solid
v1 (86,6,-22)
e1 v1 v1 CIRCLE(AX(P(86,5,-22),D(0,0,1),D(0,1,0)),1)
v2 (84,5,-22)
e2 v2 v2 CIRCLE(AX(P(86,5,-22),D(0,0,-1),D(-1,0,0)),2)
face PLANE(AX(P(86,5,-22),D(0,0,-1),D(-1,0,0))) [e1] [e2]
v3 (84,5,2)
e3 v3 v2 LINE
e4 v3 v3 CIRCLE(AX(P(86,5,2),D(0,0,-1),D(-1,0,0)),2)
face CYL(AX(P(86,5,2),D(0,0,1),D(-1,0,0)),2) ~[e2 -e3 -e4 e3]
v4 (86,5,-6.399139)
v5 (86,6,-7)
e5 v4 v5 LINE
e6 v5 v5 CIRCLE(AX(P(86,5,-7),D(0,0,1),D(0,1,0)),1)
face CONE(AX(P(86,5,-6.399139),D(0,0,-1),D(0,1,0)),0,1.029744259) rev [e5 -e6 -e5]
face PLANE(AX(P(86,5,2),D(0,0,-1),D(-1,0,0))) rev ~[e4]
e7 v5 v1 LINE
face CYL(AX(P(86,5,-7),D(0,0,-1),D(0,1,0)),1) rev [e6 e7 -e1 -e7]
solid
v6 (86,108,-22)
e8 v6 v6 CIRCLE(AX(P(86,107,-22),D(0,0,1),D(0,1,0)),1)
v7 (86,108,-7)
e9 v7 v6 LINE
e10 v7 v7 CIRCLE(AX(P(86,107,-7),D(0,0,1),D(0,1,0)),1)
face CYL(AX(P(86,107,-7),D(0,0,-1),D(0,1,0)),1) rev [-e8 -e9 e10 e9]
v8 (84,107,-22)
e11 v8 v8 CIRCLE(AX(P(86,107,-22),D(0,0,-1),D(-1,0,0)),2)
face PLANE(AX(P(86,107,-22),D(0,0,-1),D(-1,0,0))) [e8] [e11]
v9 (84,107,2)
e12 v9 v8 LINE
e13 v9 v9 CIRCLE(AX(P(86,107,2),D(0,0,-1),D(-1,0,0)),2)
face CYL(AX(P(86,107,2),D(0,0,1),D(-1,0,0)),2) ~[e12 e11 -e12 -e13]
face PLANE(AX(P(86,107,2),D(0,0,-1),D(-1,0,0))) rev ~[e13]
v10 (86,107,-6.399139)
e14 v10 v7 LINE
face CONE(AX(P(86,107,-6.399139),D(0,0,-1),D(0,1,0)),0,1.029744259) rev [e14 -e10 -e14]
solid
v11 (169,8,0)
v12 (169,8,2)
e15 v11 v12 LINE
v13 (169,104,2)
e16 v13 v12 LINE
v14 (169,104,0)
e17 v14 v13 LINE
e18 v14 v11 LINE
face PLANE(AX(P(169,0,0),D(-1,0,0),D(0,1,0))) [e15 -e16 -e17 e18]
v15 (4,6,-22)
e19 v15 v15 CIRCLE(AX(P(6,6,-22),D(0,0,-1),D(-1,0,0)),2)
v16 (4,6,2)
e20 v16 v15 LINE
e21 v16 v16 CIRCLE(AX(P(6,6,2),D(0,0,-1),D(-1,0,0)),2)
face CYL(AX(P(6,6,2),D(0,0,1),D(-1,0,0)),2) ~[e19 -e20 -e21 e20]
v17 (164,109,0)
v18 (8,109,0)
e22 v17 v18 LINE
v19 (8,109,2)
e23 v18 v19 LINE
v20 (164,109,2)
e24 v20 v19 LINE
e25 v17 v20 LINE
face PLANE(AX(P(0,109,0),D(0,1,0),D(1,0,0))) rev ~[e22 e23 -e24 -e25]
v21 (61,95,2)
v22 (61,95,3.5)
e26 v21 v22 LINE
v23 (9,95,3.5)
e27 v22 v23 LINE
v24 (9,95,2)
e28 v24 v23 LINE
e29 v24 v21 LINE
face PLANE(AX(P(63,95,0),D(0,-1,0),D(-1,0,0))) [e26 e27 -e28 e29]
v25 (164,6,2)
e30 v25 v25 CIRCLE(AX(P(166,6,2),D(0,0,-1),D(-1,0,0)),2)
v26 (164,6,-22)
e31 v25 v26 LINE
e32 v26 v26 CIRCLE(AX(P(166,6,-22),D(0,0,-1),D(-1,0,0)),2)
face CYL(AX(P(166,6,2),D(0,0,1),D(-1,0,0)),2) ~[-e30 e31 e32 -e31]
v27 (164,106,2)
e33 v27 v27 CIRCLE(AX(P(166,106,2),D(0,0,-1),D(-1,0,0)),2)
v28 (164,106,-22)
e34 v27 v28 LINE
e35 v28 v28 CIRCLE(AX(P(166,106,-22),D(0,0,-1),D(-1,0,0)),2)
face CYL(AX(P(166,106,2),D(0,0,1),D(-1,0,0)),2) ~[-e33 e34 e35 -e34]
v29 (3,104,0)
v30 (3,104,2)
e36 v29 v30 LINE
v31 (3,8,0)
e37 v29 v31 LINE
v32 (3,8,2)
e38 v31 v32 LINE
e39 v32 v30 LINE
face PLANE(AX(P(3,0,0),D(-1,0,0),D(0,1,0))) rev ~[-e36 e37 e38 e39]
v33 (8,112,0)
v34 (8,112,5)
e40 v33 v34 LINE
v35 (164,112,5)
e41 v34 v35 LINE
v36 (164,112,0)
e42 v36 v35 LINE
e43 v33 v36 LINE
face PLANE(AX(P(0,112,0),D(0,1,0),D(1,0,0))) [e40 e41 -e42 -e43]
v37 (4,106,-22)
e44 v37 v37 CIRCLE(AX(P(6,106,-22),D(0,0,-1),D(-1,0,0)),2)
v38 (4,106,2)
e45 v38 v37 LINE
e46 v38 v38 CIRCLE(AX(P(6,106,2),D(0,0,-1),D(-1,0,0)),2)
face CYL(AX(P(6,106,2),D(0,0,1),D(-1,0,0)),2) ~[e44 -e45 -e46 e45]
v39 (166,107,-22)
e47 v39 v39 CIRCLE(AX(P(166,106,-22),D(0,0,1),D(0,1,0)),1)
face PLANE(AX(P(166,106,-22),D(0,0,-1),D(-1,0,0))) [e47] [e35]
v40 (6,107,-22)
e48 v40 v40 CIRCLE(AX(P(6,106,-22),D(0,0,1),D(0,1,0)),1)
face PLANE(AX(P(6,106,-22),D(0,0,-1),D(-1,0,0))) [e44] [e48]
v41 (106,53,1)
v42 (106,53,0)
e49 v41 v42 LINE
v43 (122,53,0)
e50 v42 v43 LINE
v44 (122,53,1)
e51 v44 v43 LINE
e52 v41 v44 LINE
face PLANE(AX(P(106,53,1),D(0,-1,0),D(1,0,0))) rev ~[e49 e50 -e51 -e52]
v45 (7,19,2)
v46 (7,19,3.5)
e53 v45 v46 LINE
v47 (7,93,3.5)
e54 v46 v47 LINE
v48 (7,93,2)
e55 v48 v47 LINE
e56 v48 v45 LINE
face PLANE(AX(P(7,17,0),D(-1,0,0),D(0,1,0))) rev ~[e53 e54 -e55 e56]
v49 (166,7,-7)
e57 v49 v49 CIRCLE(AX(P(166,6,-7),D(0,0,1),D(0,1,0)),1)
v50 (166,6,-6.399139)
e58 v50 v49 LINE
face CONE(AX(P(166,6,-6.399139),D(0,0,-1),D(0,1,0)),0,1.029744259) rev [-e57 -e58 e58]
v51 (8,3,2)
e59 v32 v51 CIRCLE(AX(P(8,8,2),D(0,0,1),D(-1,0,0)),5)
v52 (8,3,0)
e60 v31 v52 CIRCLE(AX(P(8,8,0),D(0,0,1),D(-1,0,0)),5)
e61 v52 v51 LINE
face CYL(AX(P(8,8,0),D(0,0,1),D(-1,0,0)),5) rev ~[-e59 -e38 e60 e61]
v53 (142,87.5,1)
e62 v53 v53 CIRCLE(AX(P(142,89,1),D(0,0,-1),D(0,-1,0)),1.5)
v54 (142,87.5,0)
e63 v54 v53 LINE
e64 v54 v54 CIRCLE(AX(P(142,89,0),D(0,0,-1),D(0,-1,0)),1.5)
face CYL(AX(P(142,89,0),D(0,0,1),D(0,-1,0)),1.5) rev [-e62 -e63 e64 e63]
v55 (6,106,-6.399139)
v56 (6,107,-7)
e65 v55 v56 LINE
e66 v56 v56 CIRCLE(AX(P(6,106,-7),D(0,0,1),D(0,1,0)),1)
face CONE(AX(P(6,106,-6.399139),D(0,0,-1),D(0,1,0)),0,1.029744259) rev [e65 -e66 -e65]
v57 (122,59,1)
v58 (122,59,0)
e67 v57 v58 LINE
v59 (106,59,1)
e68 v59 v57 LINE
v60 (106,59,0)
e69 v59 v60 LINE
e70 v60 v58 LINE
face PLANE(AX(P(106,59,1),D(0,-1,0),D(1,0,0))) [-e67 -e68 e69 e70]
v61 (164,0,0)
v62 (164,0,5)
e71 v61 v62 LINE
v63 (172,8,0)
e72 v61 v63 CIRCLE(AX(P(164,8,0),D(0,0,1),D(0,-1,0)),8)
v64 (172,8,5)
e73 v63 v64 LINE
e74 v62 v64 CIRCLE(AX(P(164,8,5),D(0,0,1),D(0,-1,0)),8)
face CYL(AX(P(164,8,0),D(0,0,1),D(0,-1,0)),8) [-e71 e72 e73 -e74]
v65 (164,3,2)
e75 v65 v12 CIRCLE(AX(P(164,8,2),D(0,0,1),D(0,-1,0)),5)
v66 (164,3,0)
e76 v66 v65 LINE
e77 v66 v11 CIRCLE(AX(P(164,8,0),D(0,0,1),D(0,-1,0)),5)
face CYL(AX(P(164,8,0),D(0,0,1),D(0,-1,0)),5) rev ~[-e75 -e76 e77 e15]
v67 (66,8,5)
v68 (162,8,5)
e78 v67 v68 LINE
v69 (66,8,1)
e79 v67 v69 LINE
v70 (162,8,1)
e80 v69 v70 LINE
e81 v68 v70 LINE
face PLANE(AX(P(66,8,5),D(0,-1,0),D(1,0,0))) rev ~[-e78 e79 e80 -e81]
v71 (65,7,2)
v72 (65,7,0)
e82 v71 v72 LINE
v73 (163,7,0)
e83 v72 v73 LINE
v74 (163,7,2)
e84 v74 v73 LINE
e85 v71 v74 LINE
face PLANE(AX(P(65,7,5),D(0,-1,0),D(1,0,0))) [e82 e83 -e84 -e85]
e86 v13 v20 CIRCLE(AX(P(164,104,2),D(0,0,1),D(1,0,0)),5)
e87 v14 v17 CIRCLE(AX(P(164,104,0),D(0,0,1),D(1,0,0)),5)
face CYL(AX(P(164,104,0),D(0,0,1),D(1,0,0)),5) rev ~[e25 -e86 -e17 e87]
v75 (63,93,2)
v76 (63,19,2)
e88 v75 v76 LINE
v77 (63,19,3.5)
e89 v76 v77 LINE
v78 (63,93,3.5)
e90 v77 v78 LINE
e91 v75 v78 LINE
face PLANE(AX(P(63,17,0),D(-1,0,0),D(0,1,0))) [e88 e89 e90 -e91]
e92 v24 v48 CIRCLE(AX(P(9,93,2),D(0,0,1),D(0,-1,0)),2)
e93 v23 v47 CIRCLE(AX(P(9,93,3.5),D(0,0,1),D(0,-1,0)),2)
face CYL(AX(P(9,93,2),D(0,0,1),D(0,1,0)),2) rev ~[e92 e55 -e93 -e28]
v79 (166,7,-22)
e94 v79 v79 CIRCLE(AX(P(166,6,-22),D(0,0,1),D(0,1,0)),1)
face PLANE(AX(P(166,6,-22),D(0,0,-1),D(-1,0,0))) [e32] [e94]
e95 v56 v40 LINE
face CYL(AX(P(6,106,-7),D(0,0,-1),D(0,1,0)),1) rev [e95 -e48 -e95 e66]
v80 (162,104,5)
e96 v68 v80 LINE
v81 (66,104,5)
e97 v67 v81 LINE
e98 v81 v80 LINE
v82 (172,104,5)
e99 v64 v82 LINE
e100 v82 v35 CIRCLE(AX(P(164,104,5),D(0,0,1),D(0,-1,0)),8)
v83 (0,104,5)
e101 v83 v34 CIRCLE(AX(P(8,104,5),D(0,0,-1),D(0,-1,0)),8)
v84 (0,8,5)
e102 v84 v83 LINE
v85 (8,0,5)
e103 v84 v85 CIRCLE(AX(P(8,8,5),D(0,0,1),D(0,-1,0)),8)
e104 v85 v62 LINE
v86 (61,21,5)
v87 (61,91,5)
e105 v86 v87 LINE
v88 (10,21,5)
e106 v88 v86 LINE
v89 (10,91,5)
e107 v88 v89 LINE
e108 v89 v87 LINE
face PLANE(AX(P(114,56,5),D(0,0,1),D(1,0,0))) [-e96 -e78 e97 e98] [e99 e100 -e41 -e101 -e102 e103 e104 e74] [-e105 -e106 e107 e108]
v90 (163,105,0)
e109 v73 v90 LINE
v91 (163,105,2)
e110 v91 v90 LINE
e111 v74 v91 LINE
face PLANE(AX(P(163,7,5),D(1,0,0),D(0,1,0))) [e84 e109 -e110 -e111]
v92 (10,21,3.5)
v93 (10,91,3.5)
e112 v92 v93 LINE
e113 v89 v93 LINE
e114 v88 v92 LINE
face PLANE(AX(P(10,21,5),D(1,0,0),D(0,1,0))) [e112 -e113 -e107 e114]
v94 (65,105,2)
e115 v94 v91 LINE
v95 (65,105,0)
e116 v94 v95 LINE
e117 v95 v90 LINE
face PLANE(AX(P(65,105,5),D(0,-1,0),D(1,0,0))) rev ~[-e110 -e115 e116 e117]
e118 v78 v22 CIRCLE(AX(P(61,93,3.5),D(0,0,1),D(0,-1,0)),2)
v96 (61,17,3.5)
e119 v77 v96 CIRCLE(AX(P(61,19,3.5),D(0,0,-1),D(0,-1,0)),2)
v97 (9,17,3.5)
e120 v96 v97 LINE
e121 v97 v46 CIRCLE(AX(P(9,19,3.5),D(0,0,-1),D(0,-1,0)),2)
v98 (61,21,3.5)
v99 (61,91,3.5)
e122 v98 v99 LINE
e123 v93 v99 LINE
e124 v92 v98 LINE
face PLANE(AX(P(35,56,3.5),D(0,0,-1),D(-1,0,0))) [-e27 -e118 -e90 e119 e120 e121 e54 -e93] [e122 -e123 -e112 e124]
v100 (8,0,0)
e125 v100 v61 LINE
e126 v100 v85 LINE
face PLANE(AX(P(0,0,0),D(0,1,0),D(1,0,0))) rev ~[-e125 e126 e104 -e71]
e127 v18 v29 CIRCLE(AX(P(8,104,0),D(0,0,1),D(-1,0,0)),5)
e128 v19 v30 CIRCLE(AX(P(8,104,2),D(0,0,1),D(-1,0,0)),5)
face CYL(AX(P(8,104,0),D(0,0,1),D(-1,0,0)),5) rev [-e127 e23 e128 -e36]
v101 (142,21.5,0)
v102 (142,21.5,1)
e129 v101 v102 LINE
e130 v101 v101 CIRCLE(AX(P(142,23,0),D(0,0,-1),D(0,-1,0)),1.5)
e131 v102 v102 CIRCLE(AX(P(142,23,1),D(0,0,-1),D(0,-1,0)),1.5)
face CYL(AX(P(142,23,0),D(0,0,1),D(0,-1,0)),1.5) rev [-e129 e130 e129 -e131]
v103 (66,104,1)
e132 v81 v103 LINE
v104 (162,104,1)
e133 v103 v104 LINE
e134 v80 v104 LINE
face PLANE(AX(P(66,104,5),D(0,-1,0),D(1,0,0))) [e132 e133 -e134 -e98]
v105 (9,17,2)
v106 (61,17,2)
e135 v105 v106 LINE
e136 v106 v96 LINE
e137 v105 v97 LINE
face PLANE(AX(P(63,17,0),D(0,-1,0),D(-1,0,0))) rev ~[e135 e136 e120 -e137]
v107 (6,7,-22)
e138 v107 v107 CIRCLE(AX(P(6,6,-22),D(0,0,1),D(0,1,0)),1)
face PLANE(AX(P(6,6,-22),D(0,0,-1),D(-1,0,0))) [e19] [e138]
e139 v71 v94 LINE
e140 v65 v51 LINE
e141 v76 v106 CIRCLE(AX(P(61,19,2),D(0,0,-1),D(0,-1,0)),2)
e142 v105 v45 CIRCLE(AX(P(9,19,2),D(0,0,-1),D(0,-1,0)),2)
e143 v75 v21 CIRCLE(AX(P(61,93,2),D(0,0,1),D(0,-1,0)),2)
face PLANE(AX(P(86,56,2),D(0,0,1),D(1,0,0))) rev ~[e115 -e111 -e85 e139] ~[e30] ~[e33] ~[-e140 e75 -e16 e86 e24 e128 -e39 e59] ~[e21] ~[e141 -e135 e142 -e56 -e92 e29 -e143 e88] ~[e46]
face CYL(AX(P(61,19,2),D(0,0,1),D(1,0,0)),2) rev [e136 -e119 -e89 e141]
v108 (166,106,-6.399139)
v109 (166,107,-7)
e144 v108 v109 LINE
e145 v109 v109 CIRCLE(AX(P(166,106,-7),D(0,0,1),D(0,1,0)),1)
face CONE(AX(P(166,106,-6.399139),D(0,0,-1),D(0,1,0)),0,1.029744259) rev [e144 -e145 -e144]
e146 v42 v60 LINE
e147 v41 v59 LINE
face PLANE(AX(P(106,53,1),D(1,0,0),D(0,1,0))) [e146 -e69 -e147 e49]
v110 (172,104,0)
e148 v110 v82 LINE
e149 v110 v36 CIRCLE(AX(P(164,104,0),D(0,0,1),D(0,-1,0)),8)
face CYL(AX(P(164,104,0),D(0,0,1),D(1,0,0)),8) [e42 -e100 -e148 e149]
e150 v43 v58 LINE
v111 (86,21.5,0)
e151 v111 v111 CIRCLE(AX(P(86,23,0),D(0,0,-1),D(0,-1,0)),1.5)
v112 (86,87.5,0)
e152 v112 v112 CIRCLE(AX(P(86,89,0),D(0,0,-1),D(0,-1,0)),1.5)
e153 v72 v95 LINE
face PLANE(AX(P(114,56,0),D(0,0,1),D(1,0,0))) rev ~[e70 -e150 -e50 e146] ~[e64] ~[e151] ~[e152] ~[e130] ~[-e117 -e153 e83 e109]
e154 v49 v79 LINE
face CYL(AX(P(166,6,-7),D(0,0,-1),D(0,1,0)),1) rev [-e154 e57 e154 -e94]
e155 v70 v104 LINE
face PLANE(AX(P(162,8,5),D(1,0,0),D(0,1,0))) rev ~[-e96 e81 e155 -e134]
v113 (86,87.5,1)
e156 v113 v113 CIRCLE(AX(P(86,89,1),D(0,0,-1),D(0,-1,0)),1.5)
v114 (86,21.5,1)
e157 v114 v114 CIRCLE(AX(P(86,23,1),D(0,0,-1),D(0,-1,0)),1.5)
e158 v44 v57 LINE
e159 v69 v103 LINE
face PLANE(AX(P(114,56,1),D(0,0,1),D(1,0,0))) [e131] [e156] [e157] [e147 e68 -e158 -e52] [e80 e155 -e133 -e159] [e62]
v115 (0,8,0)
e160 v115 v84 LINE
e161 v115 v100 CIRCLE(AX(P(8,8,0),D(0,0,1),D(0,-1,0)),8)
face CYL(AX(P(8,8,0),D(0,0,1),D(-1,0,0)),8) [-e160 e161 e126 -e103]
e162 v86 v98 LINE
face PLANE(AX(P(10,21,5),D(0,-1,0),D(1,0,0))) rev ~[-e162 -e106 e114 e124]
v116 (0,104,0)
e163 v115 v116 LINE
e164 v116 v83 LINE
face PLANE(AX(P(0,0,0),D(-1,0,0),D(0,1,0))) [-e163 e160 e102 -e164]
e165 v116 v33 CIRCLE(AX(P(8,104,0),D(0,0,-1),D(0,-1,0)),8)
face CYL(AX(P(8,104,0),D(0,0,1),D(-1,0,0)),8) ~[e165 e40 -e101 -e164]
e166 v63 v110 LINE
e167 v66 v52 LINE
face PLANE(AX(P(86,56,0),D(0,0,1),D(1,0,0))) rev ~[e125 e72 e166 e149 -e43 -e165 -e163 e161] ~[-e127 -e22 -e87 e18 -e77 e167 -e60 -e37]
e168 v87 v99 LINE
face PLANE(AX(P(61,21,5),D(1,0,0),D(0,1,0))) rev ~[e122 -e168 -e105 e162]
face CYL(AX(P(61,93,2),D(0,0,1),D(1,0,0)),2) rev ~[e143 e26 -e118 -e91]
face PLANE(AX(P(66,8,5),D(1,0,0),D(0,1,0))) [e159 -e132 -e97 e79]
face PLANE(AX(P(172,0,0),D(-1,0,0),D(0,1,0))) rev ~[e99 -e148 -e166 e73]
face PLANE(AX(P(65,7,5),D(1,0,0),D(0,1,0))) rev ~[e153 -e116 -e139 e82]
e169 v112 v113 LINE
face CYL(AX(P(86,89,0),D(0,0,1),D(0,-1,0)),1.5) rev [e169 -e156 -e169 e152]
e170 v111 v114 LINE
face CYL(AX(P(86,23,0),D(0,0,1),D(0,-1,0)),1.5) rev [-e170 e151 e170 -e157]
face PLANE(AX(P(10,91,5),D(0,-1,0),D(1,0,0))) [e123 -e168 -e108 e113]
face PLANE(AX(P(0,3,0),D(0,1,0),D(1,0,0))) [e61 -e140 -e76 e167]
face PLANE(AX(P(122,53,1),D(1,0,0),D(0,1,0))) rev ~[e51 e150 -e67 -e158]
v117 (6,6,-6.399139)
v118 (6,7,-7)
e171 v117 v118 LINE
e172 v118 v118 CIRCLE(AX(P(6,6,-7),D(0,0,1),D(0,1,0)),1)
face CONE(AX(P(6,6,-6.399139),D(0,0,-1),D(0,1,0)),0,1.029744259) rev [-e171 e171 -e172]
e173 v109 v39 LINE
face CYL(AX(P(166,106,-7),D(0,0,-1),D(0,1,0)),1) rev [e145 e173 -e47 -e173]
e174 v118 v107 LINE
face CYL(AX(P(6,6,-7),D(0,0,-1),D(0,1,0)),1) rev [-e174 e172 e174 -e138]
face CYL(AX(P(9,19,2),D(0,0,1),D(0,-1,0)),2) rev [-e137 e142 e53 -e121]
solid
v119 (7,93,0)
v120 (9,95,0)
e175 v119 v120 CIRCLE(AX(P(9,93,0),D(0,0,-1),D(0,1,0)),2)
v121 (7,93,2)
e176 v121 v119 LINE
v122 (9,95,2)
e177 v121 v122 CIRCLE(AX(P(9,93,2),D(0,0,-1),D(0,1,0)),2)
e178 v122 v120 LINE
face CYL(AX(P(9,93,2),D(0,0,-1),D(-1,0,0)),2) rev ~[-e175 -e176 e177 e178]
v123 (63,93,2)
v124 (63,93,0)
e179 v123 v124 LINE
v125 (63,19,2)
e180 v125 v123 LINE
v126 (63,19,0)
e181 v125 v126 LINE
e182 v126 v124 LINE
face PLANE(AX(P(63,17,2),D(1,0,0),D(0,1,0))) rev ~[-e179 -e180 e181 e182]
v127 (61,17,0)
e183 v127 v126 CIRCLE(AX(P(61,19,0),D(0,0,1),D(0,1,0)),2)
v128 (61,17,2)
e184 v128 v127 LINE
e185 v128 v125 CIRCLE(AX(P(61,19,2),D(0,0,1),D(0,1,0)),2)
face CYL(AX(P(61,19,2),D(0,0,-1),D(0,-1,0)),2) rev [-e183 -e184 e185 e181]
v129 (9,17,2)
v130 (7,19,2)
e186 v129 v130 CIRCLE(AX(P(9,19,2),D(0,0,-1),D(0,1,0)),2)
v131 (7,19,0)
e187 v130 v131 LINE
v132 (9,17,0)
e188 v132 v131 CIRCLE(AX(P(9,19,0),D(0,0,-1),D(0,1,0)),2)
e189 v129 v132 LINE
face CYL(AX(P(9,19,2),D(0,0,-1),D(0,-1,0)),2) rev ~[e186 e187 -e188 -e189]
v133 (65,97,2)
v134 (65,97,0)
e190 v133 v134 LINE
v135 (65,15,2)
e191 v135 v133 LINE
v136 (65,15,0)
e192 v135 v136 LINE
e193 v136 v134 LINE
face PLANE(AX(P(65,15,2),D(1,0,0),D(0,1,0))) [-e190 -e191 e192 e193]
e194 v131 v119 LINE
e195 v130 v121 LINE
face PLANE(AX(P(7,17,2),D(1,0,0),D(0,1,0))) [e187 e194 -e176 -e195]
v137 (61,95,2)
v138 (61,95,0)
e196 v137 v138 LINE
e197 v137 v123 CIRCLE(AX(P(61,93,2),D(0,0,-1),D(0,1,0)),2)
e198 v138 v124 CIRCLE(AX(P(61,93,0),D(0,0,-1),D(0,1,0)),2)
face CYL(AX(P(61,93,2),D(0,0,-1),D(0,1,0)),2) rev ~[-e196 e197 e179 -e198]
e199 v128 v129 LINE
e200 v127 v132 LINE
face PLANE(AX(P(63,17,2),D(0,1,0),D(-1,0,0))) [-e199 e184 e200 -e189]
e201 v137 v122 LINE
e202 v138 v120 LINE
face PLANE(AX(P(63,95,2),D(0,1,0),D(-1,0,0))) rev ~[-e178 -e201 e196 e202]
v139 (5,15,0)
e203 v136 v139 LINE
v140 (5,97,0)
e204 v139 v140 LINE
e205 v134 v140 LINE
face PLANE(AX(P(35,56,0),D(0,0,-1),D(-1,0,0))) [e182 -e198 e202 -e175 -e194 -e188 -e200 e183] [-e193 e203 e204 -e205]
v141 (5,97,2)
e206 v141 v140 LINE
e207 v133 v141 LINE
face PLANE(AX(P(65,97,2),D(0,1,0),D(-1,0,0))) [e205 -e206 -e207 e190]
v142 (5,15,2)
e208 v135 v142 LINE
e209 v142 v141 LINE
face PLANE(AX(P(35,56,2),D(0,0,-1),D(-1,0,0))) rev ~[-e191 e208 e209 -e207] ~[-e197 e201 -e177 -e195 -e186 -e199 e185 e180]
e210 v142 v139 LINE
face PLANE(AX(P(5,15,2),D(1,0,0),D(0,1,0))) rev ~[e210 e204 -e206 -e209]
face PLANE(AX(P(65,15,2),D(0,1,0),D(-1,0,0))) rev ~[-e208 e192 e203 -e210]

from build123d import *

# Parameters (mm, degrees)
SKETCH_1_W                     = 172
SKETCH_1_H                     = 112
EXTRUDE_1_DEPTH                = 5
FILLET_2_R                     = 8
SHELL_2_T                      = -3
SKETCH_2_W                     = 51
SKETCH_2_H                     = 70
CUT_EXTRUDE_1_DEPTH            = 5
SKETCH_3_W                     = 98
SKETCH_3_H                     = 98
EXTRUDE_2_DEPTH                = 5
SKETCH_4_W                     = 96
SKETCH_4_H                     = 96
CUT_EXTRUDE_2_DEPTH            = 4
SKETCH_8_W                     = 60
SKETCH_8_H                     = 82
SKETCH_8_W_2                   = 56
SKETCH_8_H_2                   = 78
EXTRUDE_1_2_DEPTH              = 2
SKETCH_26_W                    = 56
SKETCH_26_H                    = 78
CUT_EXTRUDE_4_DEPTH            = 3.5
FILLET_3_R                     = 2
FILLET_5_R                     = 2
SKETCH_9_R                     = 2
EXTRUDE_3_DEPTH                = 24
SKETCH_10_R                    = 2
EXTRUDE_4_DEPTH                = 24
SKETCH_11_R                    = 2
EXTRUDE_5_DEPTH                = 24
SKETCH_12_R                    = 2
EXTRUDE_6_DEPTH                = 24
HOLE_WIZARD_M22_AT_2_COUNT     = 2
HOLE_WIZARD_M22_AT_2_PITCH     = 66
HOLE_WIZARD_M22_AT_3_COUNT     = 2
HOLE_WIZARD_M22_AT_3_PITCH     = 86.556340034
HOLE_WIZARD_M22_AT_4_COUNT     = 2
HOLE_WIZARD_M22_AT_4_PITCH     = 56
SKETCH_20_W                    = 16
SKETCH_20_H                    = 6
CUT_EXTRUDE_3_DEPTH            = 207.535711198
SKETCH_22_R                    = 2
EXTRUDE_18_DEPTH               = 24
EXTRUDE_18_2_DEPTH             = 24
HOLE_WIZARD_2_0_2_1_AT_2_COUNT = 2
HOLE_WIZARD_2_0_2_1_AT_2_PITCH = 100
HOLE_WIZARD_2_0_2_1_AT_3_COUNT = 2
HOLE_WIZARD_2_0_2_1_AT_3_PITCH = 188.679622641
HOLE_WIZARD_2_0_2_1_AT_4_COUNT = 2
HOLE_WIZARD_2_0_2_1_AT_4_PITCH = 160
HOLE_WIZARD_2_0_2_1_AT_5_COUNT = 2
HOLE_WIZARD_2_0_2_1_AT_5_PITCH = 80.006249756
HOLE_WIZARD_2_0_2_1_AT_6_COUNT = 2
HOLE_WIZARD_2_0_2_1_AT_6_PITCH = 128.844867961


with BuildPart() as part:
    # Эскиз1 → Extrude 1 (new body)
    with BuildSketch(Plane.XY):
        with Locations((86, 56)):
            Rectangle(SKETCH_1_W, SKETCH_1_H)
    extrude(amount=EXTRUDE_1_DEPTH)

    # Скругление2
    fillet_2_edges = [part.edges().sort_by_distance(p)[0] for p in [
        (0, 112, 2.5),
        (172, 112, 2.5),
        (172, 0, 2.5),
        (0, 0, 2.5),
    ]]
    fillet(fillet_2_edges, radius=FILLET_2_R)

    # Оболочка2
    shell_2_openings = [part.faces().sort_by_distance(p)[0] for p in [
        (86, 56, 0),
    ]]
    offset(amount=SHELL_2_T, openings=shell_2_openings, kind=Kind.INTERSECTION)

    # Эскиз2 → Вырез-Вытянуть1 (cut)
    with BuildSketch(Plane.XY.offset(5)):
        with Locations((35.5, 56)):
            Rectangle(SKETCH_2_W, SKETCH_2_H)
    extrude(amount=-CUT_EXTRUDE_1_DEPTH, mode=Mode.SUBTRACT)

    # Эскиз3 → Бобышка-Вытянуть2 (add)
    with BuildSketch(Plane.XY.offset(5)):
        with Locations((114, 56)):
            Rectangle(SKETCH_3_W, SKETCH_3_H)
    extrude(amount=-EXTRUDE_2_DEPTH)

    # Эскиз4 → Вырез-Вытянуть2 (cut)
    with BuildSketch(Plane.XY.offset(5)):
        with Locations((114, 56)):
            Rectangle(SKETCH_4_W, SKETCH_4_H)
    extrude(amount=-CUT_EXTRUDE_2_DEPTH, mode=Mode.SUBTRACT)

    # Эскиз26 → Вырез-Вытянуть4 (cut)
    with BuildSketch(Plane(origin=(0, 0, 0), x_dir=(-1, 0, 0), z_dir=(0, 0, -1))):
        with Locations((-35, 56)):
            Rectangle(SKETCH_26_W, SKETCH_26_H)
    extrude(amount=-CUT_EXTRUDE_4_DEPTH, mode=Mode.SUBTRACT)

    # Скругление3
    fillet_3_edges = [part.edges().sort_by_distance(p)[0] for p in [
        (63, 17, 2.75),
        (63, 95, 2.75),
        (7, 95, 2.75),
        (7, 17, 2.75),
    ]]
    fillet(fillet_3_edges, radius=FILLET_3_R)

    # Эскиз9 → Бобышка-Вытянуть3 (add)
    with BuildSketch(Plane(origin=(0, 0, 2), x_dir=(-1, 0, 0), z_dir=(0, 0, -1))):
        with Locations((-166, 106)):
            Circle(SKETCH_9_R)
    extrude(amount=EXTRUDE_3_DEPTH)

    # Эскиз10 → Бобышка-Вытянуть4 (add)
    with BuildSketch(Plane(origin=(0, 0, 2), x_dir=(-1, 0, 0), z_dir=(0, 0, -1))):
        with Locations((-166, 6)):
            Circle(SKETCH_10_R)
    extrude(amount=EXTRUDE_4_DEPTH)

    # Эскиз11 → Бобышка-Вытянуть5 (add)
    with BuildSketch(Plane(origin=(0, 0, 2), x_dir=(-1, 0, 0), z_dir=(0, 0, -1))):
        with Locations((-6, 106)):
            Circle(SKETCH_11_R)
    extrude(amount=EXTRUDE_5_DEPTH)

    # Эскиз12 → Бобышка-Вытянуть6 (add)
    with BuildSketch(Plane(origin=(0, 0, 2), x_dir=(-1, 0, 0), z_dir=(0, 0, -1))):
        with Locations((-6, 6)):
            Circle(SKETCH_12_R)
    extrude(amount=EXTRUDE_6_DEPTH)

    # Эскиз15 → Зенковка для  винта с плоской головкой M22 (revolve, cut)
    with BuildSketch(Plane(origin=(86, 89, 1), x_dir=(0, -1, 0), z_dir=(1, 0, 0))):
        Polygon((0, 0), (0, 23), (1.2, 23), (1.2, 1.3), (1.5, 1), (1.5, 0), align=None)
    hole_wizard_m22 = revolve(axis=Axis((86, 89, 7.35), (0, 0, -1)), mode=Mode.SUBTRACT)

    # Зенковка для  винта с плоской головкой M22 at 2: Зенковка для  винта с плоской головкой M22 ×2
    with Locations(*[(0, -i * HOLE_WIZARD_M22_AT_2_PITCH, 0) for i in range(1, HOLE_WIZARD_M22_AT_2_COUNT)]):
        add(hole_wizard_m22, mode=Mode.SUBTRACT)

    # Зенковка для  винта с плоской головкой M22 at 3: Зенковка для  винта с плоской головкой M22 ×2
    with Locations(*[Vector(0.646977448195096, -0.7625091353727915, 0) * (i * HOLE_WIZARD_M22_AT_3_PITCH) for i in range(1, HOLE_WIZARD_M22_AT_3_COUNT)]):
        add(hole_wizard_m22, mode=Mode.SUBTRACT)

    # Зенковка для  винта с плоской головкой M22 at 4: Зенковка для  винта с плоской головкой M22 ×2
    with Locations(*[(i * HOLE_WIZARD_M22_AT_4_PITCH, 0, 0) for i in range(1, HOLE_WIZARD_M22_AT_4_COUNT)]):
        add(hole_wizard_m22, mode=Mode.SUBTRACT)

    # Эскиз20 → Вырез-Вытянуть3 (cut, through all)
    with BuildSketch(Plane.XY.offset(1)):
        with Locations((114, 56)):
            Rectangle(SKETCH_20_W, SKETCH_20_H)
    extrude(amount=-CUT_EXTRUDE_3_DEPTH, mode=Mode.SUBTRACT)

    # Эскиз13 → Диаметр отверстия Ø2.0 (2)1 (revolve, cut)
    with BuildSketch(Plane(origin=(6, 106, -22), x_dir=(0, 1, 0), z_dir=(1, 0, 0))):
        Polygon((0, 0), (0, 15.600860619), (1, 15), (1, 0), align=None)
    hole_wizard_2_0_2_1 = revolve(axis=Axis((6, 106, -28.35), (0, 0, 1)), mode=Mode.SUBTRACT)

    # Диаметр отверстия Ø2.0 (2)1 at 2: Диаметр отверстия Ø2.0 (2)1 ×2
    with Locations(*[(0, -i * HOLE_WIZARD_2_0_2_1_AT_2_PITCH, 0) for i in range(1, HOLE_WIZARD_2_0_2_1_AT_2_COUNT)]):
        add(hole_wizard_2_0_2_1, mode=Mode.SUBTRACT)

    # Диаметр отверстия Ø2.0 (2)1 at 3: Диаметр отверстия Ø2.0 (2)1 ×2
    with Locations(*[Vector(0.847998304005088, -0.52999894000318, 0) * (i * HOLE_WIZARD_2_0_2_1_AT_3_PITCH) for i in range(1, HOLE_WIZARD_2_0_2_1_AT_3_COUNT)]):
        add(hole_wizard_2_0_2_1, mode=Mode.SUBTRACT)

    # Диаметр отверстия Ø2.0 (2)1 at 4: Диаметр отверстия Ø2.0 (2)1 ×2
    with Locations(*[(i * HOLE_WIZARD_2_0_2_1_AT_4_PITCH, 0, 0) for i in range(1, HOLE_WIZARD_2_0_2_1_AT_4_COUNT)]):
        add(hole_wizard_2_0_2_1, mode=Mode.SUBTRACT)


with BuildPart() as body_2:
    # Эскиз8 → Extrude 1 2 (new body)
    with BuildSketch(Plane(origin=(0, 0, 2), x_dir=(-1, 0, 0), z_dir=(0, 0, -1))):
        with Locations((-35, 56)):
            Rectangle(SKETCH_8_W, SKETCH_8_H)
        with Locations((-35, 56)):
            Rectangle(SKETCH_8_W_2, SKETCH_8_H_2, mode=Mode.SUBTRACT)
    extrude(amount=EXTRUDE_1_2_DEPTH)

    # Скругление5
    fillet_5_edges = [body_2.edges().sort_by_distance(p)[0] for p in [
        (63, 95, 1),
        (63, 17, 1),
        (7, 17, 1),
        (7, 95, 1),
    ]]
    fillet(fillet_5_edges, radius=FILLET_5_R)


with BuildPart() as body_3:
    # Эскиз22 → Бобышка-Вытянуть18 (new body)
    with BuildSketch(Plane(origin=(0, 0, 2), x_dir=(-1, 0, 0), z_dir=(0, 0, -1))):
        with Locations((-86, 107)):
            Circle(SKETCH_22_R)
    extrude(amount=EXTRUDE_18_DEPTH)

    # Диаметр отверстия Ø2.0 (2)1 at 5: Диаметр отверстия Ø2.0 (2)1 ×2
    with Locations(*[Vector(0.9999218841540816, 0.012499023551926015, 0) * (i * HOLE_WIZARD_2_0_2_1_AT_5_PITCH) for i in range(1, HOLE_WIZARD_2_0_2_1_AT_5_COUNT)]):
        add(hole_wizard_2_0_2_1, mode=Mode.SUBTRACT)


with BuildPart() as body_4:
    # Эскиз22 → Extrude 18 2 (new body)
    with BuildSketch(Plane(origin=(0, 0, 2), x_dir=(-1, 0, 0), z_dir=(0, 0, -1))):
        with Locations((-86, 5)):
            Circle(SKETCH_22_R)
    extrude(amount=EXTRUDE_18_2_DEPTH)

    # Диаметр отверстия Ø2.0 (2)1 at 6: Диаметр отверстия Ø2.0 (2)1 ×2
    with Locations(*[Vector(0.6209017189877067, -0.7838884202219795, 0) * (i * HOLE_WIZARD_2_0_2_1_AT_6_PITCH) for i in range(1, HOLE_WIZARD_2_0_2_1_AT_6_COUNT)]):
        add(hole_wizard_2_0_2_1, mode=Mode.SUBTRACT)


solid = Compound([part.part, body_2.part, body_3.part, body_4.part])
